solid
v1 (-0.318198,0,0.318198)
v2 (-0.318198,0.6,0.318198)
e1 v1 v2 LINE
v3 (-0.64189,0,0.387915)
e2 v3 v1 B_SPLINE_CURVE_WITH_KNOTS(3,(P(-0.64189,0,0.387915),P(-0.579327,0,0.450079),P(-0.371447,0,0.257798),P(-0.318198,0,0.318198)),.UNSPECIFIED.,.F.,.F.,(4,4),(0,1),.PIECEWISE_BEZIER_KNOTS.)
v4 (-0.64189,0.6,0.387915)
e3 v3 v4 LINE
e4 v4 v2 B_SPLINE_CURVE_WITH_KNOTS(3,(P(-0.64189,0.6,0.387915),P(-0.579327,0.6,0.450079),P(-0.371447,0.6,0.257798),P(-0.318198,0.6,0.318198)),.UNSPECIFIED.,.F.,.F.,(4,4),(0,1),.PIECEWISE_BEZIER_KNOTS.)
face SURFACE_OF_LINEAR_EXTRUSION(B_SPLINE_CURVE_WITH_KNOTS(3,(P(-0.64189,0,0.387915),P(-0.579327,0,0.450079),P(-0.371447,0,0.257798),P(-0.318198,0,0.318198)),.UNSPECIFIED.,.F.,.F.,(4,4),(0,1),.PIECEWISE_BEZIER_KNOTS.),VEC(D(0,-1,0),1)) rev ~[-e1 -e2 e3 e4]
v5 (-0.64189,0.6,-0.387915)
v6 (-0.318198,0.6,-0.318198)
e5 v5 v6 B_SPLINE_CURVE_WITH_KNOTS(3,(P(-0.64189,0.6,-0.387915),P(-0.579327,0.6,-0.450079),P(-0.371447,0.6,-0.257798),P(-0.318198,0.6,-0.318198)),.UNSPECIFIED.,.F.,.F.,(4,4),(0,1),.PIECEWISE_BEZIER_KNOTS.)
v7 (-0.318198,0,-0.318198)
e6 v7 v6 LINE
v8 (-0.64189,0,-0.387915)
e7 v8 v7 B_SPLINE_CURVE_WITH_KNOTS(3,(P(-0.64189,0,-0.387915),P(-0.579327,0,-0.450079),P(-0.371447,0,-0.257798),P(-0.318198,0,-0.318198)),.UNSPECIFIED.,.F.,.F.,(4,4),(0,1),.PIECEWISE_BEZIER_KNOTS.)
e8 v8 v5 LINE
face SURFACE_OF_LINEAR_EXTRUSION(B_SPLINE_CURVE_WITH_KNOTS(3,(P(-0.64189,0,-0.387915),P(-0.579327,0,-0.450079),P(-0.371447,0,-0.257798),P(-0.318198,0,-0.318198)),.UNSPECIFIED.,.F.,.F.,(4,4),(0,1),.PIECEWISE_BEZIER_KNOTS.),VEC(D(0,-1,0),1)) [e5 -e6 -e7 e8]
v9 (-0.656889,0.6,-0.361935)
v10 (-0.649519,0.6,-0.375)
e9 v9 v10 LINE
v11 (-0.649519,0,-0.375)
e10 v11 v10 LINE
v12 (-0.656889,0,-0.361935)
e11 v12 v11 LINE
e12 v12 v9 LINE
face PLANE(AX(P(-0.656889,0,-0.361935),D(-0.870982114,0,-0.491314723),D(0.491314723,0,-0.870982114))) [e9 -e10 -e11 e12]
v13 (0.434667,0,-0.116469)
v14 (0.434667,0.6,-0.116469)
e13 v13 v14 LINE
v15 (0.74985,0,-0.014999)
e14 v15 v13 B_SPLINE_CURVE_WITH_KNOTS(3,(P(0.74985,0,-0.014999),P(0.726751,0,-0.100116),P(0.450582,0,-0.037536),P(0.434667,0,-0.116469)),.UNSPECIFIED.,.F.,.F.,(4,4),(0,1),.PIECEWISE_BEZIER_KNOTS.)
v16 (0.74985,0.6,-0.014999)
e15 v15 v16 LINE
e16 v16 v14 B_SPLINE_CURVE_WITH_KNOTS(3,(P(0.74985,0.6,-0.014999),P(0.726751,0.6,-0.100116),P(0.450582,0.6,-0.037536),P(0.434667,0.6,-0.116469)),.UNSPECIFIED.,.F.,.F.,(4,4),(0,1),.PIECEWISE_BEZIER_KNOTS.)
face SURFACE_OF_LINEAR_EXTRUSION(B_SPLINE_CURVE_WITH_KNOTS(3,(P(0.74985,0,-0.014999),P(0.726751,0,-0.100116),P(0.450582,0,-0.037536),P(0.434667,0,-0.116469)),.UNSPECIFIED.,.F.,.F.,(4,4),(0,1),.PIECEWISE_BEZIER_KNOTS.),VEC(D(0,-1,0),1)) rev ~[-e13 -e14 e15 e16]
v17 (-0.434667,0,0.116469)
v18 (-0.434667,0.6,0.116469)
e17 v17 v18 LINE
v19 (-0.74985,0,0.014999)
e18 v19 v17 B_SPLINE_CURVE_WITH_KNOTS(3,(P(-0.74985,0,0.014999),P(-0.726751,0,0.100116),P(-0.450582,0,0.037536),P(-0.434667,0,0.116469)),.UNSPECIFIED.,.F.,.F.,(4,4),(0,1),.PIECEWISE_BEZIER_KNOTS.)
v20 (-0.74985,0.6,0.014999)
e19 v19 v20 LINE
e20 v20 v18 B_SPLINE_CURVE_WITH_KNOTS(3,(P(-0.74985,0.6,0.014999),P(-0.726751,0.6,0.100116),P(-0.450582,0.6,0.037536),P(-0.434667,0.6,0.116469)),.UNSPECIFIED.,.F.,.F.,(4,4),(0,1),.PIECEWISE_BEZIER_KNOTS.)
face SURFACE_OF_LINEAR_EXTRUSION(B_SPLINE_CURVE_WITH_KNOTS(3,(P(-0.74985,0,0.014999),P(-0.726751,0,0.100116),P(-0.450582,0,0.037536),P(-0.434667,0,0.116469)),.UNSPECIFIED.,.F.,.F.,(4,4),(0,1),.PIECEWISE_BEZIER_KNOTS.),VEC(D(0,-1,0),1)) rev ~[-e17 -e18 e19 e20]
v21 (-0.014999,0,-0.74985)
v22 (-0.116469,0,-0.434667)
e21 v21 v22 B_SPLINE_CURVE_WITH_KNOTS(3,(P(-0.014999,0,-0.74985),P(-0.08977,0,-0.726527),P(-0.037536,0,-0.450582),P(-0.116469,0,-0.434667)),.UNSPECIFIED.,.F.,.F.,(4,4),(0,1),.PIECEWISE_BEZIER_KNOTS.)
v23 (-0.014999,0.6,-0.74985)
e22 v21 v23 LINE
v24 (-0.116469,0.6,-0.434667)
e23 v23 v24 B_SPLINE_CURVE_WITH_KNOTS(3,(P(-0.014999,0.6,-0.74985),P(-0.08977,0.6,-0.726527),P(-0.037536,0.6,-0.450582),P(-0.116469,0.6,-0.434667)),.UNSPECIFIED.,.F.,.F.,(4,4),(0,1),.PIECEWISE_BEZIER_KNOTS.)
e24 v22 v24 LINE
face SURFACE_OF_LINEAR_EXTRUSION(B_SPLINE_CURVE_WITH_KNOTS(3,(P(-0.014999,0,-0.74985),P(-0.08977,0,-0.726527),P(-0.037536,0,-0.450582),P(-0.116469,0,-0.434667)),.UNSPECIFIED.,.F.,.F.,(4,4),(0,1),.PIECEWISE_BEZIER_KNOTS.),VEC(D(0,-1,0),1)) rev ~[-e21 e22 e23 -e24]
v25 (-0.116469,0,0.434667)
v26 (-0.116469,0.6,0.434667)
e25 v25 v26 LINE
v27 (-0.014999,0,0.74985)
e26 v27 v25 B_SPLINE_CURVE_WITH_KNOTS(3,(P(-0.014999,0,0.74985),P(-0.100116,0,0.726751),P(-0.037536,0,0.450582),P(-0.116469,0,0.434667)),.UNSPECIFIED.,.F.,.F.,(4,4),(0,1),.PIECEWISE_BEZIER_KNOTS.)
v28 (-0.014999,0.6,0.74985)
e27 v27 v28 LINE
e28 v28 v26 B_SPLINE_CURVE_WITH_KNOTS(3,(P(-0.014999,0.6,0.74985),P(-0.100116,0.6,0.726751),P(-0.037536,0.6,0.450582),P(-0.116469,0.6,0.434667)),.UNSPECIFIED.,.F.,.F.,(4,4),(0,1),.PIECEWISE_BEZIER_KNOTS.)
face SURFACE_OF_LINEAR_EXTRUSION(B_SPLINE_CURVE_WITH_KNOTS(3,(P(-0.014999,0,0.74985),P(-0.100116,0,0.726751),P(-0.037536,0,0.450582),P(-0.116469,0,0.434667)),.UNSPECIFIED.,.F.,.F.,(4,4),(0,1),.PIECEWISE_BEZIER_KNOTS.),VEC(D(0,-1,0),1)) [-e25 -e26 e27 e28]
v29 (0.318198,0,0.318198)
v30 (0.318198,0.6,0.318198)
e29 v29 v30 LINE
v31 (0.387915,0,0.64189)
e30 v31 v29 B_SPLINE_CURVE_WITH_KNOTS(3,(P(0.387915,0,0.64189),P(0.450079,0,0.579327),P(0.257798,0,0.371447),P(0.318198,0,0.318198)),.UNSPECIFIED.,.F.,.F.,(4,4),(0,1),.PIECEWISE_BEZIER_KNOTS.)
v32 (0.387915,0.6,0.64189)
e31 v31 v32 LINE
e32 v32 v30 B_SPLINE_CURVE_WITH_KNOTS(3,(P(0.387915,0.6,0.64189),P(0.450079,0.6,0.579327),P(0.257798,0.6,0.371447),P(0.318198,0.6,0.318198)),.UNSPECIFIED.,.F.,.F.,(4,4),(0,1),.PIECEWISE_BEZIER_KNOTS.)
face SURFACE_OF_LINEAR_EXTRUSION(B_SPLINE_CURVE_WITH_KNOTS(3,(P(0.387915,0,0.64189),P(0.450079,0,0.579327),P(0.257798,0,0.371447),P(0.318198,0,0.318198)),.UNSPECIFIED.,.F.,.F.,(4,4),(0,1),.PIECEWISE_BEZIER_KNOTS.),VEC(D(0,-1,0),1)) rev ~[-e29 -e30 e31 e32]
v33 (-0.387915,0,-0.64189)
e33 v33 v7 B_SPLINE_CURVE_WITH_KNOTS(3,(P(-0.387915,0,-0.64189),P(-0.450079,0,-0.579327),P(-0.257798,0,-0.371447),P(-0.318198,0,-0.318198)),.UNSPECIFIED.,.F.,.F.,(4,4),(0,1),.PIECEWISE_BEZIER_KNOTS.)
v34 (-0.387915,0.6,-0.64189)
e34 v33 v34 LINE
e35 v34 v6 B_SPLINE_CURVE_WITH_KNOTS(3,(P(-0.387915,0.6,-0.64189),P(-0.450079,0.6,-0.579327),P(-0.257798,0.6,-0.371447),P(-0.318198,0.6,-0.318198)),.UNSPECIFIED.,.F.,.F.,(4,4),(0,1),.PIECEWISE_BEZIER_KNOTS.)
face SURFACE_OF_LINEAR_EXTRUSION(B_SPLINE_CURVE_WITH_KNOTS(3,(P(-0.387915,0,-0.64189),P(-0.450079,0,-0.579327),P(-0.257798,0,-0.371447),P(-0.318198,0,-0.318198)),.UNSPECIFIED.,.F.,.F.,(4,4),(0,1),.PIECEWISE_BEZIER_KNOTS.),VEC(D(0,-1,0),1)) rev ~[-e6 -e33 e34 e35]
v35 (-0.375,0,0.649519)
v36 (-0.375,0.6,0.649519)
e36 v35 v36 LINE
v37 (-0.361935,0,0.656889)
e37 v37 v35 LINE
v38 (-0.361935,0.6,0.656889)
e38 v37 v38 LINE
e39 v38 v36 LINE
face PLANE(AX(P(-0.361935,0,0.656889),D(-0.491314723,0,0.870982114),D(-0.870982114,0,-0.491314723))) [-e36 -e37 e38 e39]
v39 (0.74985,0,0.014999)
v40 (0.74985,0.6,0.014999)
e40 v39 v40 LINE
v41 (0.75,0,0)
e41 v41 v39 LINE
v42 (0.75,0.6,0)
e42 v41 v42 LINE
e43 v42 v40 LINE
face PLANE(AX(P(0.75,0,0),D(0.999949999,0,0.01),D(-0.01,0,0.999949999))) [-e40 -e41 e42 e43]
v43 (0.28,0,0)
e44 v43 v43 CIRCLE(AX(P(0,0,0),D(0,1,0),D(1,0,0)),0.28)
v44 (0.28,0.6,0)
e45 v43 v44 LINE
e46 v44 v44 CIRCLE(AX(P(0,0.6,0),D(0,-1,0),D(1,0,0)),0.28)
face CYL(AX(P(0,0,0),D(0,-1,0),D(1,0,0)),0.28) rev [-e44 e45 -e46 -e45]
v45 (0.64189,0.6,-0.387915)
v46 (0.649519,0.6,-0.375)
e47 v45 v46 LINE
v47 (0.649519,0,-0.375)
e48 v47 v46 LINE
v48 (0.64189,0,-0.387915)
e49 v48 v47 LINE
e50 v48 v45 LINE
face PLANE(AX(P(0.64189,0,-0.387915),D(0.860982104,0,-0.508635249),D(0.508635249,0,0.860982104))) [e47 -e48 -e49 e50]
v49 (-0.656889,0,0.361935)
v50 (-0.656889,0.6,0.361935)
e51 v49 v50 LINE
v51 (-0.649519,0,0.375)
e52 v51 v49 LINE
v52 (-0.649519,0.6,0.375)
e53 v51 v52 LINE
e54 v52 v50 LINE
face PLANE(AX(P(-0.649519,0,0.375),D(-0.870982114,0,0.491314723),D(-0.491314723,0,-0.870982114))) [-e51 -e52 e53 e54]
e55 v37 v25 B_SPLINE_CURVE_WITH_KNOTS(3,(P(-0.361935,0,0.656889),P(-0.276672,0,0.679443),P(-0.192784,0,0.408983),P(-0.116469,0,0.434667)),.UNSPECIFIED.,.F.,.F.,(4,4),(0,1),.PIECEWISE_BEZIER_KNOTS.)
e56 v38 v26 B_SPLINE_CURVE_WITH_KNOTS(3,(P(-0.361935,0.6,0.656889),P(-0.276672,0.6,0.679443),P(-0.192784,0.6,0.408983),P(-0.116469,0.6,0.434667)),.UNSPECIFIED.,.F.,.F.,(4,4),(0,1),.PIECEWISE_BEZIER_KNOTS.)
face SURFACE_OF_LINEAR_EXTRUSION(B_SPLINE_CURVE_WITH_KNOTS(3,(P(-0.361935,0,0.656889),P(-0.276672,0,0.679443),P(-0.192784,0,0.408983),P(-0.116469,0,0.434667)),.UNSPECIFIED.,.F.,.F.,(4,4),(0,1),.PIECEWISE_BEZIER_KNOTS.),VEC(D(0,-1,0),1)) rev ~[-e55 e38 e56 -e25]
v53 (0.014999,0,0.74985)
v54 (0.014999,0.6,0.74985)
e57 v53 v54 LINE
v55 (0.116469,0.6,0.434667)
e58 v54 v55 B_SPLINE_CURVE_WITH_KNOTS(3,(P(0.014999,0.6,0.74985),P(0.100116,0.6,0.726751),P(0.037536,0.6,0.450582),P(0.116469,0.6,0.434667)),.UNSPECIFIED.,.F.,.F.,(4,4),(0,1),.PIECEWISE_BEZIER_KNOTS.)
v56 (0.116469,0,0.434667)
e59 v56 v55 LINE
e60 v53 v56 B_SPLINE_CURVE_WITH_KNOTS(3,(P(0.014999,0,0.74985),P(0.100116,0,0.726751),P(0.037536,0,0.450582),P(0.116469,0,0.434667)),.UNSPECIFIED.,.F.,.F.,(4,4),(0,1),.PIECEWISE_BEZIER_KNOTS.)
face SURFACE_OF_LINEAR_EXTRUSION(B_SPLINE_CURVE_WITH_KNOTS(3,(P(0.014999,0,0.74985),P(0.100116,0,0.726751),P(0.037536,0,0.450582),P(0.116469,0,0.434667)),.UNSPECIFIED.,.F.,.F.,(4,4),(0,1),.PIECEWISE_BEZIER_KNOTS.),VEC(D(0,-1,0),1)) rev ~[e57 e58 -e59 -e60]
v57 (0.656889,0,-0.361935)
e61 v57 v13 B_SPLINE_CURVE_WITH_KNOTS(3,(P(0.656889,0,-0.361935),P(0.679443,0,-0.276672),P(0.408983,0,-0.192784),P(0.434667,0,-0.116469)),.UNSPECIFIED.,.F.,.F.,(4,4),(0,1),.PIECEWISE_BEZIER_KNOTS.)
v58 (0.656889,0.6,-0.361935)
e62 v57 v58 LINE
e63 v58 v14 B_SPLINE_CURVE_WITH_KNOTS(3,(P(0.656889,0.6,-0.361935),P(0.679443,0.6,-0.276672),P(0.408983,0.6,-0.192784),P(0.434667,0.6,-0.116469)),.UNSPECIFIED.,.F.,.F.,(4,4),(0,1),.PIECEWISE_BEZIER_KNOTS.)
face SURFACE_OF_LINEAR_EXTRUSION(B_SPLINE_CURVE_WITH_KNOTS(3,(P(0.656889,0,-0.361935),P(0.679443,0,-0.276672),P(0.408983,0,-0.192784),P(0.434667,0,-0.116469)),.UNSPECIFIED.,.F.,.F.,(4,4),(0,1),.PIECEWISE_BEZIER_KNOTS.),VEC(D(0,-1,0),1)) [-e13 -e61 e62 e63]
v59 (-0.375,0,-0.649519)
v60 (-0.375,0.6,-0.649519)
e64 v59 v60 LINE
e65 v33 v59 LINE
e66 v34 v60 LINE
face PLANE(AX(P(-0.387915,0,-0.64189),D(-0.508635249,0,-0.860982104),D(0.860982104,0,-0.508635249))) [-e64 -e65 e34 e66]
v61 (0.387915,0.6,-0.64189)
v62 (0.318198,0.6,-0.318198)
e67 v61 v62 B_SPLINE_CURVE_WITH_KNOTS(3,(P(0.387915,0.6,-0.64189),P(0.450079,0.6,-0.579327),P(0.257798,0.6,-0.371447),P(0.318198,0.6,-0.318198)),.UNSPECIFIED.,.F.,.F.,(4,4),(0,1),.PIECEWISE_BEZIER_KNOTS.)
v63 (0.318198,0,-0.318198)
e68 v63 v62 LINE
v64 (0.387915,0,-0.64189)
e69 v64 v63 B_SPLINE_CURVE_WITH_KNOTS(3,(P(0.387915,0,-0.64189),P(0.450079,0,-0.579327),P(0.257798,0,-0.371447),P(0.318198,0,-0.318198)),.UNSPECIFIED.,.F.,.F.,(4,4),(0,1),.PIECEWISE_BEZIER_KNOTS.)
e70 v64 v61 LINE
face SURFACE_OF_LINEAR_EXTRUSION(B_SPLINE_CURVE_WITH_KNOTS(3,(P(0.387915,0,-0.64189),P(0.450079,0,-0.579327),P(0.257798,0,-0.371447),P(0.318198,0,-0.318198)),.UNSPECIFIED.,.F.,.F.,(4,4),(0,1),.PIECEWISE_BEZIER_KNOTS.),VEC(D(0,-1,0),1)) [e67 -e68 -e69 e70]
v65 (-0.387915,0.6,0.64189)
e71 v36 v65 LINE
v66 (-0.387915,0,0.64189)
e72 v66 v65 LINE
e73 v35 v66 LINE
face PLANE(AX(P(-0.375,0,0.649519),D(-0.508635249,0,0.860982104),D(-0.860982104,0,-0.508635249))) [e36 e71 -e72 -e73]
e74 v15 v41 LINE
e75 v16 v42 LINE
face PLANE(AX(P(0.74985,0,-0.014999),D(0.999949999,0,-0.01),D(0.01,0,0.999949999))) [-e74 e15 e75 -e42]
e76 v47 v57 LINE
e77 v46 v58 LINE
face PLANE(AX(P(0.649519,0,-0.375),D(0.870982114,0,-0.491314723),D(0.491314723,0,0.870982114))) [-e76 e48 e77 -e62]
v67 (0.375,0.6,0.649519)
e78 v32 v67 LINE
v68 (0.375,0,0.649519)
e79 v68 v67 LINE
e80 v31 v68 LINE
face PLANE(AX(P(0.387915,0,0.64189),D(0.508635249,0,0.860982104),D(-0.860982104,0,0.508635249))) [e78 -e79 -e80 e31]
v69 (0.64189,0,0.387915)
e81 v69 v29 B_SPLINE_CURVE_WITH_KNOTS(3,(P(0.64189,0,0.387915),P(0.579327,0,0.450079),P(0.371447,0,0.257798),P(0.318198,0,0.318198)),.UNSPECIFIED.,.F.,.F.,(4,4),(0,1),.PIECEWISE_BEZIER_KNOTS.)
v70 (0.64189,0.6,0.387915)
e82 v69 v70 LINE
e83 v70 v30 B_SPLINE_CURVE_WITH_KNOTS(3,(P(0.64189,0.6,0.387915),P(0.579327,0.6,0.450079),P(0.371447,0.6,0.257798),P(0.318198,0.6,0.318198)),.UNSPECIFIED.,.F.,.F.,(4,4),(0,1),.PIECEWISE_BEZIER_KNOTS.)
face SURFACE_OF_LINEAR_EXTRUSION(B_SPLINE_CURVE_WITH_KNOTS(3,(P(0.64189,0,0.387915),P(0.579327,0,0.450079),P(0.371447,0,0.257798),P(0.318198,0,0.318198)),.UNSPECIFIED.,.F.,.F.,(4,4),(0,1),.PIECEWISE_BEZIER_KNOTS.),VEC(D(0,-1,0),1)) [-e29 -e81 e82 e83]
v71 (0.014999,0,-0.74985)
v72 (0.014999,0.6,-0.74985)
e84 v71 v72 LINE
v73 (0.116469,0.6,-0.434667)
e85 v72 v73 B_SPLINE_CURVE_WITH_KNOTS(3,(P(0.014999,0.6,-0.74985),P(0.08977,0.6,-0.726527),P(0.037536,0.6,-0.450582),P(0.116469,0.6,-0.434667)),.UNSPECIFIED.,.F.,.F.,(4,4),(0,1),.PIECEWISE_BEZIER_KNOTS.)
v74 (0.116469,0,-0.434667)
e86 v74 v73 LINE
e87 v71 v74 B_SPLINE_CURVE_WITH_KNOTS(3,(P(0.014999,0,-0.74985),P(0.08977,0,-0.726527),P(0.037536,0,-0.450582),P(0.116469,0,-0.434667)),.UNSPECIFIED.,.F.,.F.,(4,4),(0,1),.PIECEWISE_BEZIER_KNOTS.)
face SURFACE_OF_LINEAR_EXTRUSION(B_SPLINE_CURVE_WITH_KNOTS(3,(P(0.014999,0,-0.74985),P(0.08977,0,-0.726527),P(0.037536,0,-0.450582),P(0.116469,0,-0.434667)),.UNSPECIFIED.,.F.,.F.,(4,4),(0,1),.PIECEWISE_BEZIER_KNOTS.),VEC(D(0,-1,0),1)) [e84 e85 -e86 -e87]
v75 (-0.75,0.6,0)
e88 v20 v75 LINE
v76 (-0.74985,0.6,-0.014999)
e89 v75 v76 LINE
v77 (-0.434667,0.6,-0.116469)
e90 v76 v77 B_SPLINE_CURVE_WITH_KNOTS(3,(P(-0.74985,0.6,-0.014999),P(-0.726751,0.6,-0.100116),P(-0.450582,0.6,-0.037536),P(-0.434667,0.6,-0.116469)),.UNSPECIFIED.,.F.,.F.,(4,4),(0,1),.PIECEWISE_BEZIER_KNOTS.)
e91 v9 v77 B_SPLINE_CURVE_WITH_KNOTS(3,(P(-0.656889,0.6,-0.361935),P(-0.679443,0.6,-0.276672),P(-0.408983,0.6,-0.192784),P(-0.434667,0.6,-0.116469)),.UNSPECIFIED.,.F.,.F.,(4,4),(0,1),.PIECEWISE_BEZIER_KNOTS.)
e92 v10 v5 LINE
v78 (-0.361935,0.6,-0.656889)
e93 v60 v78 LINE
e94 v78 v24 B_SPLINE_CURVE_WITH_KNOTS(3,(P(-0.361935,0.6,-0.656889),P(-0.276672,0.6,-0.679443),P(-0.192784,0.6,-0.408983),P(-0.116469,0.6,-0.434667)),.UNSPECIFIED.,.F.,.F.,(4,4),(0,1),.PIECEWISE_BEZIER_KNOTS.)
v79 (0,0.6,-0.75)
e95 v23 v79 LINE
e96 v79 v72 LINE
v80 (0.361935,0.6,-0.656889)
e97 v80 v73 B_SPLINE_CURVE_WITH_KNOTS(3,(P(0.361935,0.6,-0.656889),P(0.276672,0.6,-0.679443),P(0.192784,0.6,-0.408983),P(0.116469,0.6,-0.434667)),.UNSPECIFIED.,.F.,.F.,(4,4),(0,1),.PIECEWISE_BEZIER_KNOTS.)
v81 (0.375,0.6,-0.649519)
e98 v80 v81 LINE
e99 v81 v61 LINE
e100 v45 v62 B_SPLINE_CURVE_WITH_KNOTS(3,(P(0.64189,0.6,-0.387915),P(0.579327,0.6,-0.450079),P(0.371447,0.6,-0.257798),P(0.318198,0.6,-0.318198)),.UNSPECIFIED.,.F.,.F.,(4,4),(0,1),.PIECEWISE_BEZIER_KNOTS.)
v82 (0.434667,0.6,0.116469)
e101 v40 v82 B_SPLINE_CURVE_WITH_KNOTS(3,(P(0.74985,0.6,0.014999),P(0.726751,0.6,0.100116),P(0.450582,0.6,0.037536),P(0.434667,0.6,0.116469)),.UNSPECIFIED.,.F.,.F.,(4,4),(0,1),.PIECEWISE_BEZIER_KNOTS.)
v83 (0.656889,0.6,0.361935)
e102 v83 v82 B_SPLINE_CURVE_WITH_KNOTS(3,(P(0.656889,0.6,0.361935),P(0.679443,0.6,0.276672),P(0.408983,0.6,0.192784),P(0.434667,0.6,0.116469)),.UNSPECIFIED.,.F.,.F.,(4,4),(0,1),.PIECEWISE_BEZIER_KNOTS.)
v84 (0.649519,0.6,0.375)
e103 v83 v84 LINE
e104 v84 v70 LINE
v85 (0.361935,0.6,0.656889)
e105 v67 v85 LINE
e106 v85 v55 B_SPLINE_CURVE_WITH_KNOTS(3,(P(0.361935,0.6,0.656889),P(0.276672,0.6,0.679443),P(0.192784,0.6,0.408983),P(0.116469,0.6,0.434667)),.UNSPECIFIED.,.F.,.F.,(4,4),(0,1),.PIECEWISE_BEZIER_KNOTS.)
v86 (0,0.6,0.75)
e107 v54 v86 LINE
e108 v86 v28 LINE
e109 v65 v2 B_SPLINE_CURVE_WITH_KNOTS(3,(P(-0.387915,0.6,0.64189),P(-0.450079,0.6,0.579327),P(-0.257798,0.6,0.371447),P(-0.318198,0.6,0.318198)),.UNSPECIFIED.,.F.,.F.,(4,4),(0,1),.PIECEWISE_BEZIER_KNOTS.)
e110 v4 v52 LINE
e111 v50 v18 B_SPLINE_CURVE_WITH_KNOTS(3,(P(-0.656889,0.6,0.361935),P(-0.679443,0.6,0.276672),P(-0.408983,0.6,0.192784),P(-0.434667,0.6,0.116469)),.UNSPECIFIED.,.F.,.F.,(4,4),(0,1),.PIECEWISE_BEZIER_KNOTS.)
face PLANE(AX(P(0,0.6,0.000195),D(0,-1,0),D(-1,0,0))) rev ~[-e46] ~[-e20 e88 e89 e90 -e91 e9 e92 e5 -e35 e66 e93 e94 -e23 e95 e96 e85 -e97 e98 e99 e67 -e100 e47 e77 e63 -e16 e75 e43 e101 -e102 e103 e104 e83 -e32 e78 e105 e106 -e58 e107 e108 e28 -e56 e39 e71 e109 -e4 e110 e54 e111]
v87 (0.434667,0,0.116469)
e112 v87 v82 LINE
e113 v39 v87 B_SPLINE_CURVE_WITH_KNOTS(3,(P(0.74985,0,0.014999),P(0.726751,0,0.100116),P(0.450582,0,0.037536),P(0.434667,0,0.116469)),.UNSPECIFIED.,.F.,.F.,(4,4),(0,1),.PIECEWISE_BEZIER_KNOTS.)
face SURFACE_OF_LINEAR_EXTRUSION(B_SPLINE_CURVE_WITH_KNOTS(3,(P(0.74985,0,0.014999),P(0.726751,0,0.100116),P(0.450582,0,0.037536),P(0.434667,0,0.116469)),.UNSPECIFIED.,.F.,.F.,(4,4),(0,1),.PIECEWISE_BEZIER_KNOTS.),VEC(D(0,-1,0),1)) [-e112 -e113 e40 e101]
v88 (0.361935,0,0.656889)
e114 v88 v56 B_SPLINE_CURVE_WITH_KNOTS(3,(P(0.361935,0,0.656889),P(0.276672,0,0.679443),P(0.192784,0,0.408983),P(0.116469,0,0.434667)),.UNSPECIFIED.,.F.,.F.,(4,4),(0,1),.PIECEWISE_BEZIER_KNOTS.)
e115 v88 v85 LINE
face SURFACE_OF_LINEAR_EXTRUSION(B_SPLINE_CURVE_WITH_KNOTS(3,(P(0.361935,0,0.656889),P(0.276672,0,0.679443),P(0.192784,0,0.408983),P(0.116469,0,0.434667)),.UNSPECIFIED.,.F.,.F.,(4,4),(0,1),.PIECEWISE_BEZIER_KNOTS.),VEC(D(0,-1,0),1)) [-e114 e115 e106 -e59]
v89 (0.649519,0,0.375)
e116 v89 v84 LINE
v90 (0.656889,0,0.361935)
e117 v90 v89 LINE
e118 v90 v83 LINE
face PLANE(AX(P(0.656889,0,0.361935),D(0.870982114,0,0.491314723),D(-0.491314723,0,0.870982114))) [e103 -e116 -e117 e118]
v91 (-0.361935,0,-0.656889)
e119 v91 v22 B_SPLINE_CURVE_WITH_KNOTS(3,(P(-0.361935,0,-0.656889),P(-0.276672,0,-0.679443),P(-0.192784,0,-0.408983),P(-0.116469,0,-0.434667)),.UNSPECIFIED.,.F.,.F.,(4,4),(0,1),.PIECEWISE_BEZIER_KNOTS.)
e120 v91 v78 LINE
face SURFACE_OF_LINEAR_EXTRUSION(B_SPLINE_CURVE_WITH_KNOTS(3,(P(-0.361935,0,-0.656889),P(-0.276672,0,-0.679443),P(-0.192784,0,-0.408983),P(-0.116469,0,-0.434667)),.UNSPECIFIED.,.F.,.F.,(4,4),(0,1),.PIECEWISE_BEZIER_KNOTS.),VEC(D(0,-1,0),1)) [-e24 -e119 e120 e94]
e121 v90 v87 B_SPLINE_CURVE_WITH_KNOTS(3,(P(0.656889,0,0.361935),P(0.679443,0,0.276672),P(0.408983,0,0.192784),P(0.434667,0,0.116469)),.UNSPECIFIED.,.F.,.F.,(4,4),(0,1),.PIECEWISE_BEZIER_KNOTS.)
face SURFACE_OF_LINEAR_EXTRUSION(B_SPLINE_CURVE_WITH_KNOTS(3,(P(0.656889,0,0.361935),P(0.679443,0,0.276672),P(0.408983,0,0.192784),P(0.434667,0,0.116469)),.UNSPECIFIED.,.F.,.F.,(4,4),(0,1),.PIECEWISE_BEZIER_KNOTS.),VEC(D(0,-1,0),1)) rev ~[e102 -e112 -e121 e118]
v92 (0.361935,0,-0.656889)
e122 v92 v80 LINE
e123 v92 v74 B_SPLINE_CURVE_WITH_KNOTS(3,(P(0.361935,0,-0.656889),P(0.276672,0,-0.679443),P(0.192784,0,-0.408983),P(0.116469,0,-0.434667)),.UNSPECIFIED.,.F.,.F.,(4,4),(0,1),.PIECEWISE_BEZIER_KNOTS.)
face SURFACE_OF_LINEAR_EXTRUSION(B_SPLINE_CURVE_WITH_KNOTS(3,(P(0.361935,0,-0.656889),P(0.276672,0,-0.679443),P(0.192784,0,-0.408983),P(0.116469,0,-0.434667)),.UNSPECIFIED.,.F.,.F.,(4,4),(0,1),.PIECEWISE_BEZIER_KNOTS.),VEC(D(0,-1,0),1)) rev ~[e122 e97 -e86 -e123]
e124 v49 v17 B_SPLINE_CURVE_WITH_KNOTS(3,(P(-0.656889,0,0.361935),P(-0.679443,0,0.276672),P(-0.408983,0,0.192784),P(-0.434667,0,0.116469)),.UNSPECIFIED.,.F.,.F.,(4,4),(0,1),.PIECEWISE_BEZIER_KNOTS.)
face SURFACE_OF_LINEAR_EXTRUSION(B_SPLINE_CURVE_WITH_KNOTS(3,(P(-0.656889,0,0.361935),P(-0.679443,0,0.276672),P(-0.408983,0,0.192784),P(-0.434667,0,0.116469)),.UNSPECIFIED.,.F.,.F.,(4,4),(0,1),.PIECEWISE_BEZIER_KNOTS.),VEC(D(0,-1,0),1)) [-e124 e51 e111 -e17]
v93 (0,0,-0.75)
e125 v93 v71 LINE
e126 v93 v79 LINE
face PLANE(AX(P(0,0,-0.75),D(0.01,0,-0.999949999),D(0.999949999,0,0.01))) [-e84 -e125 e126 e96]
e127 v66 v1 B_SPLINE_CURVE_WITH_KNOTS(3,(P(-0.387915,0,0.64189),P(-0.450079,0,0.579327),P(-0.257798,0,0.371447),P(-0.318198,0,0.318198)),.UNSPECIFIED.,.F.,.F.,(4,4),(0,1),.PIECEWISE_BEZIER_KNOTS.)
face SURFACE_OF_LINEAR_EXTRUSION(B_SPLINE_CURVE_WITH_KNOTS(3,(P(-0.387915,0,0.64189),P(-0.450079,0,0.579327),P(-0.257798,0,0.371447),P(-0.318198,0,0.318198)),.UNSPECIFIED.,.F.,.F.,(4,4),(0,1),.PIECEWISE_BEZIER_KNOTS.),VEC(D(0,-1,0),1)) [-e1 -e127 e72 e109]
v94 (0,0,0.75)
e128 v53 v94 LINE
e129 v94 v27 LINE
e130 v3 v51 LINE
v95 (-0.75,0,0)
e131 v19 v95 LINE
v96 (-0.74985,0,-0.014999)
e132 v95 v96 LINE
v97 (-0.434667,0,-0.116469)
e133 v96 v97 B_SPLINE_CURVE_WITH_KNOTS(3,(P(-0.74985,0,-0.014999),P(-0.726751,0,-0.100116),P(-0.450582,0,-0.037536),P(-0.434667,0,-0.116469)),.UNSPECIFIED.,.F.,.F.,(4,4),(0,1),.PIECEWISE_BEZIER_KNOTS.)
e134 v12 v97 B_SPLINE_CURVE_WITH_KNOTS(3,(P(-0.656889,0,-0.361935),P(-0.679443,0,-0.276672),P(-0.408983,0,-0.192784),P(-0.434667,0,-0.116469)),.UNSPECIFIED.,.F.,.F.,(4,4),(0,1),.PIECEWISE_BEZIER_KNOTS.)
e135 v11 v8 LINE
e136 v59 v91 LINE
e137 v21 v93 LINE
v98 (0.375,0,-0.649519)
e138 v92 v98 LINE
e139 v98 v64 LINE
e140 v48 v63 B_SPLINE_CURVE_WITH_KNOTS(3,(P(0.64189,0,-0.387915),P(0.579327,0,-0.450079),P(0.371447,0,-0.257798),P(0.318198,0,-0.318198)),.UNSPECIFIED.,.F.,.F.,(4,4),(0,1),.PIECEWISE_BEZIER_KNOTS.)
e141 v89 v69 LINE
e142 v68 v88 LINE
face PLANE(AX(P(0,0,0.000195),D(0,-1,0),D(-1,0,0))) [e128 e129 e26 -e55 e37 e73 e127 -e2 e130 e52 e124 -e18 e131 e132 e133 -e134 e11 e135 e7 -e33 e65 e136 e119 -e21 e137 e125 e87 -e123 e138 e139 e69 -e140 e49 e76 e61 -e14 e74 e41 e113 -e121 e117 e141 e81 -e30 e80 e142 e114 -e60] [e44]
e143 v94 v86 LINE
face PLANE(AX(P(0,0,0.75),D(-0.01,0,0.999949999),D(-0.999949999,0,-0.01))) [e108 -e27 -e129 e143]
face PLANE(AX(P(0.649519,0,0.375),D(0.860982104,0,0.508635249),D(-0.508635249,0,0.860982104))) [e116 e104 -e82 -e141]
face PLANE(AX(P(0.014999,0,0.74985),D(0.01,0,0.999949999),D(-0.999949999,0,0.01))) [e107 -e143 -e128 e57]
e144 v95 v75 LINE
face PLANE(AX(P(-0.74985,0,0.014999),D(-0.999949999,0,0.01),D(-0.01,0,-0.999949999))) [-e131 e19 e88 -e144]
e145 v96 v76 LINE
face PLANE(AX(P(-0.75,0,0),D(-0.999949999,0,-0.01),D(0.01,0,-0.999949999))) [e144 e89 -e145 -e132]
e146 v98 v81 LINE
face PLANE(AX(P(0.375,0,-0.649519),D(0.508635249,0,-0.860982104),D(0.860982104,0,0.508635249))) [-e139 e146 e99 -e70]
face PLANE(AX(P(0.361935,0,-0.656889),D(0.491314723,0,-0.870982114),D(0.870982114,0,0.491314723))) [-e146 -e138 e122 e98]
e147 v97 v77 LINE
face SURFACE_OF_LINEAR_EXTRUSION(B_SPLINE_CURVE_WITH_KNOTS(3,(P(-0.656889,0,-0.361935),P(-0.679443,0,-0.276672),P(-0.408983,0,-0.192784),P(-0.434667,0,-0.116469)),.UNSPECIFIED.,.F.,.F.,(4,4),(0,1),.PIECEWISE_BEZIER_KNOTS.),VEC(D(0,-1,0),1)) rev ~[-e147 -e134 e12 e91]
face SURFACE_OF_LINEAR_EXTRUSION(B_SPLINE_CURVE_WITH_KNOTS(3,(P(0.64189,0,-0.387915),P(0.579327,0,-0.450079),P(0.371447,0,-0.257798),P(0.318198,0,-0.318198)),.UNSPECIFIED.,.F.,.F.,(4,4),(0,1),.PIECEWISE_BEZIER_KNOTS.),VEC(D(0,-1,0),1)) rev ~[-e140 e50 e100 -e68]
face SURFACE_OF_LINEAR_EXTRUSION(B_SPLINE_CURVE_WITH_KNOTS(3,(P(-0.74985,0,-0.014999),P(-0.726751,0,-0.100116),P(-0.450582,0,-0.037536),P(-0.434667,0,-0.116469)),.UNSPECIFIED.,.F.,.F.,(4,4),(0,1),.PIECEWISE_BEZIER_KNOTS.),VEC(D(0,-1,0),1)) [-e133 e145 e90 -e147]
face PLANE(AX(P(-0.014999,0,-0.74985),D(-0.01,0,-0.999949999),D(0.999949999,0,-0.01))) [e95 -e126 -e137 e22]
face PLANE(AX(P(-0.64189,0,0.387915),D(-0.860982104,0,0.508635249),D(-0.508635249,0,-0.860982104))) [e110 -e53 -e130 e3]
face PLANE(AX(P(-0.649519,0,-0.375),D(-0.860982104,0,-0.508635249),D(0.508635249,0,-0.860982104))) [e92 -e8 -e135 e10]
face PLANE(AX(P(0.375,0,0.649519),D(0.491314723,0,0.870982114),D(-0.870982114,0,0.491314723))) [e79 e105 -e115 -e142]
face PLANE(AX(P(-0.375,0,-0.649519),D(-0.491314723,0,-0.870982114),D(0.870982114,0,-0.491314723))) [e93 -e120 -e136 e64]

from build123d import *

# Parameters (mm, degrees)
BOSS_EXTRUDE1_12_TEETH_DEPTH = 0.6
CUT_EXTRUDE1_REACH           = 2.6
SKETCH2_R                    = 0.28


with BuildPart() as part:
    # Sketch1 → Boss-Extrude1 (12 teeth) (new body)
    with BuildSketch(Plane(origin=(0, 0, 0), x_dir=(1, 0, 0), z_dir=(0, 1, 0))):
        with BuildLine():
            Line((0, 0.75), (0.01499925, 0.74985))
            add(Edge.make_bspline(
                [(0.01499925, 0.74985), (0.089770208, 0.726526589), (0.037536283, 0.45058181), (0.11646857, 0.434666622)],
                knots=[0, 0, 0, 0, 1, 1, 1, 1], degree=3))
            add(Edge.make_bspline(
                [(0.361935268, 0.656888774), (0.27667218, 0.679442999), (0.19278353, 0.408983436), (0.11646857, 0.434666622)],
                knots=[0, 0, 0, 0, 1, 1, 1, 1], degree=3))
            Line((0.361935268, 0.656888774), (0.375, 0.649519053))
            Line((0.375, 0.649519053), (0.387914732, 0.641889524))
            add(Edge.make_bspline(
                [(0.387914732, 0.641889524), (0.450078807, 0.579326636), (0.25779828, 0.371447153), (0.318198052, 0.318198052)],
                knots=[0, 0, 0, 0, 1, 1, 1, 1], degree=3))
            add(Edge.make_bspline(
                [(0.641889524, 0.387914732), (0.579326636, 0.450078807), (0.371447153, 0.25779828), (0.318198052, 0.318198052)],
                knots=[0, 0, 0, 0, 1, 1, 1, 1], degree=3))
            Line((0.641889524, 0.387914732), (0.649519053, 0.375))
            Line((0.649519053, 0.375), (0.656888774, 0.361935268))
            add(Edge.make_bspline(
                [(0.656888774, 0.361935268), (0.679442999, 0.27667218), (0.408983436, 0.19278353), (0.434666622, 0.11646857)],
                knots=[0, 0, 0, 0, 1, 1, 1, 1], degree=3))
            add(Edge.make_bspline(
                [(0.74985, 0.01499925), (0.726750987, 0.100116363), (0.45058181, 0.037536283), (0.434666622, 0.11646857)],
                knots=[0, 0, 0, 0, 1, 1, 1, 1], degree=3))
            Line((0.74985, 0.01499925), (0.75, 0))
            Line((0.75, 0), (0.74985, -0.01499925))
            add(Edge.make_bspline(
                [(0.74985, -0.01499925), (0.726750987, -0.100116363), (0.45058181, -0.037536283), (0.434666622, -0.11646857)],
                knots=[0, 0, 0, 0, 1, 1, 1, 1], degree=3))
            add(Edge.make_bspline(
                [(0.656888774, -0.361935268), (0.679442999, -0.27667218), (0.408983436, -0.19278353), (0.434666622, -0.11646857)],
                knots=[0, 0, 0, 0, 1, 1, 1, 1], degree=3))
            Line((0.656888774, -0.361935268), (0.649519053, -0.375))
            Line((0.649519053, -0.375), (0.641889524, -0.387914732))
            add(Edge.make_bspline(
                [(0.641889524, -0.387914732), (0.579326636, -0.450078807), (0.371447153, -0.25779828), (0.318198052, -0.318198052)],
                knots=[0, 0, 0, 0, 1, 1, 1, 1], degree=3))
            add(Edge.make_bspline(
                [(0.387914732, -0.641889524), (0.450078807, -0.579326636), (0.25779828, -0.371447153), (0.318198052, -0.318198052)],
                knots=[0, 0, 0, 0, 1, 1, 1, 1], degree=3))
            Line((0.387914732, -0.641889524), (0.375, -0.649519053))
            Line((0.375, -0.649519053), (0.361935268, -0.656888774))
            add(Edge.make_bspline(
                [(0.361935268, -0.656888774), (0.27667218, -0.679442999), (0.19278353, -0.408983436), (0.11646857, -0.434666622)],
                knots=[0, 0, 0, 0, 1, 1, 1, 1], degree=3))
            add(Edge.make_bspline(
                [(0.01499925, -0.74985), (0.100116363, -0.726750987), (0.037536283, -0.45058181), (0.11646857, -0.434666622)],
                knots=[0, 0, 0, 0, 1, 1, 1, 1], degree=3))
            Line((0.01499925, -0.74985), (0, -0.75))
            Line((0, -0.75), (-0.01499925, -0.74985))
            add(Edge.make_bspline(
                [(-0.01499925, -0.74985), (-0.100116363, -0.726750987), (-0.037536283, -0.45058181), (-0.11646857, -0.434666622)],
                knots=[0, 0, 0, 0, 1, 1, 1, 1], degree=3))
            add(Edge.make_bspline(
                [(-0.361935268, -0.656888774), (-0.27667218, -0.679442999), (-0.19278353, -0.408983436), (-0.11646857, -0.434666622)],
                knots=[0, 0, 0, 0, 1, 1, 1, 1], degree=3))
            Line((-0.361935268, -0.656888774), (-0.375, -0.649519053))
            Line((-0.375, -0.649519053), (-0.387914732, -0.641889524))
            add(Edge.make_bspline(
                [(-0.387914732, -0.641889524), (-0.450078807, -0.579326636), (-0.25779828, -0.371447153), (-0.318198052, -0.318198052)],
                knots=[0, 0, 0, 0, 1, 1, 1, 1], degree=3))
            add(Edge.make_bspline(
                [(-0.641889524, -0.387914732), (-0.579326636, -0.450078807), (-0.371447153, -0.25779828), (-0.318198052, -0.318198052)],
                knots=[0, 0, 0, 0, 1, 1, 1, 1], degree=3))
            Line((-0.641889524, -0.387914732), (-0.649519053, -0.375))
            Line((-0.649519053, -0.375), (-0.656888774, -0.361935268))
            add(Edge.make_bspline(
                [(-0.656888774, -0.361935268), (-0.679442999, -0.27667218), (-0.408983436, -0.19278353), (-0.434666622, -0.11646857)],
                knots=[0, 0, 0, 0, 1, 1, 1, 1], degree=3))
            add(Edge.make_bspline(
                [(-0.74985, -0.01499925), (-0.726750987, -0.100116363), (-0.45058181, -0.037536283), (-0.434666622, -0.11646857)],
                knots=[0, 0, 0, 0, 1, 1, 1, 1], degree=3))
            Line((-0.74985, -0.01499925), (-0.75, 0))
            Line((-0.75, 0), (-0.74985, 0.01499925))
            add(Edge.make_bspline(
                [(-0.74985, 0.01499925), (-0.726750987, 0.100116363), (-0.45058181, 0.037536283), (-0.434666622, 0.11646857)],
                knots=[0, 0, 0, 0, 1, 1, 1, 1], degree=3))
            add(Edge.make_bspline(
                [(-0.656888774, 0.361935268), (-0.679442999, 0.27667218), (-0.408983436, 0.19278353), (-0.434666622, 0.11646857)],
                knots=[0, 0, 0, 0, 1, 1, 1, 1], degree=3))
            Line((-0.656888774, 0.361935268), (-0.649519053, 0.375))
            Line((-0.649519053, 0.375), (-0.641889524, 0.387914732))
            add(Edge.make_bspline(
                [(-0.641889524, 0.387914732), (-0.579326636, 0.450078807), (-0.371447153, 0.25779828), (-0.318198052, 0.318198052)],
                knots=[0, 0, 0, 0, 1, 1, 1, 1], degree=3))
            add(Edge.make_bspline(
                [(-0.387914732, 0.641889524), (-0.450078807, 0.579326636), (-0.25779828, 0.371447153), (-0.318198052, 0.318198052)],
                knots=[0, 0, 0, 0, 1, 1, 1, 1], degree=3))
            Line((-0.387914732, 0.641889524), (-0.375, 0.649519053))
            Line((-0.375, 0.649519053), (-0.361935268, 0.656888774))
            add(Edge.make_bspline(
                [(-0.361935268, 0.656888774), (-0.27667218, 0.679442999), (-0.19278353, 0.408983436), (-0.11646857, 0.434666622)],
                knots=[0, 0, 0, 0, 1, 1, 1, 1], degree=3))
            add(Edge.make_bspline(
                [(-0.01499925, 0.74985), (-0.089770208, 0.726526589), (-0.037536283, 0.45058181), (-0.11646857, 0.434666622)],
                knots=[0, 0, 0, 0, 1, 1, 1, 1], degree=3))
            Line((-0.01499925, 0.74985), (0, 0.75))
        make_face()
    extrude(amount=BOSS_EXTRUDE1_12_TEETH_DEPTH)

    # Sketch2 → Cut-Extrude1 (cut, up to next)
    with BuildSketch(Plane(origin=(0, 0, 0), x_dir=(1, 0, 0), z_dir=(0, 1, 0)), mode=Mode.PRIVATE) as cut_extrude1_sk1:
        Circle(SKETCH2_R)
    cut_extrude1_tool1 = extrude(cut_extrude1_sk1.sketch, amount=CUT_EXTRUDE1_REACH, mode=Mode.PRIVATE) & part.part
    add(cut_extrude1_tool1.solids().sort_by_distance((0, 0, 0))[0], mode=Mode.SUBTRACT)


solid = part.part
